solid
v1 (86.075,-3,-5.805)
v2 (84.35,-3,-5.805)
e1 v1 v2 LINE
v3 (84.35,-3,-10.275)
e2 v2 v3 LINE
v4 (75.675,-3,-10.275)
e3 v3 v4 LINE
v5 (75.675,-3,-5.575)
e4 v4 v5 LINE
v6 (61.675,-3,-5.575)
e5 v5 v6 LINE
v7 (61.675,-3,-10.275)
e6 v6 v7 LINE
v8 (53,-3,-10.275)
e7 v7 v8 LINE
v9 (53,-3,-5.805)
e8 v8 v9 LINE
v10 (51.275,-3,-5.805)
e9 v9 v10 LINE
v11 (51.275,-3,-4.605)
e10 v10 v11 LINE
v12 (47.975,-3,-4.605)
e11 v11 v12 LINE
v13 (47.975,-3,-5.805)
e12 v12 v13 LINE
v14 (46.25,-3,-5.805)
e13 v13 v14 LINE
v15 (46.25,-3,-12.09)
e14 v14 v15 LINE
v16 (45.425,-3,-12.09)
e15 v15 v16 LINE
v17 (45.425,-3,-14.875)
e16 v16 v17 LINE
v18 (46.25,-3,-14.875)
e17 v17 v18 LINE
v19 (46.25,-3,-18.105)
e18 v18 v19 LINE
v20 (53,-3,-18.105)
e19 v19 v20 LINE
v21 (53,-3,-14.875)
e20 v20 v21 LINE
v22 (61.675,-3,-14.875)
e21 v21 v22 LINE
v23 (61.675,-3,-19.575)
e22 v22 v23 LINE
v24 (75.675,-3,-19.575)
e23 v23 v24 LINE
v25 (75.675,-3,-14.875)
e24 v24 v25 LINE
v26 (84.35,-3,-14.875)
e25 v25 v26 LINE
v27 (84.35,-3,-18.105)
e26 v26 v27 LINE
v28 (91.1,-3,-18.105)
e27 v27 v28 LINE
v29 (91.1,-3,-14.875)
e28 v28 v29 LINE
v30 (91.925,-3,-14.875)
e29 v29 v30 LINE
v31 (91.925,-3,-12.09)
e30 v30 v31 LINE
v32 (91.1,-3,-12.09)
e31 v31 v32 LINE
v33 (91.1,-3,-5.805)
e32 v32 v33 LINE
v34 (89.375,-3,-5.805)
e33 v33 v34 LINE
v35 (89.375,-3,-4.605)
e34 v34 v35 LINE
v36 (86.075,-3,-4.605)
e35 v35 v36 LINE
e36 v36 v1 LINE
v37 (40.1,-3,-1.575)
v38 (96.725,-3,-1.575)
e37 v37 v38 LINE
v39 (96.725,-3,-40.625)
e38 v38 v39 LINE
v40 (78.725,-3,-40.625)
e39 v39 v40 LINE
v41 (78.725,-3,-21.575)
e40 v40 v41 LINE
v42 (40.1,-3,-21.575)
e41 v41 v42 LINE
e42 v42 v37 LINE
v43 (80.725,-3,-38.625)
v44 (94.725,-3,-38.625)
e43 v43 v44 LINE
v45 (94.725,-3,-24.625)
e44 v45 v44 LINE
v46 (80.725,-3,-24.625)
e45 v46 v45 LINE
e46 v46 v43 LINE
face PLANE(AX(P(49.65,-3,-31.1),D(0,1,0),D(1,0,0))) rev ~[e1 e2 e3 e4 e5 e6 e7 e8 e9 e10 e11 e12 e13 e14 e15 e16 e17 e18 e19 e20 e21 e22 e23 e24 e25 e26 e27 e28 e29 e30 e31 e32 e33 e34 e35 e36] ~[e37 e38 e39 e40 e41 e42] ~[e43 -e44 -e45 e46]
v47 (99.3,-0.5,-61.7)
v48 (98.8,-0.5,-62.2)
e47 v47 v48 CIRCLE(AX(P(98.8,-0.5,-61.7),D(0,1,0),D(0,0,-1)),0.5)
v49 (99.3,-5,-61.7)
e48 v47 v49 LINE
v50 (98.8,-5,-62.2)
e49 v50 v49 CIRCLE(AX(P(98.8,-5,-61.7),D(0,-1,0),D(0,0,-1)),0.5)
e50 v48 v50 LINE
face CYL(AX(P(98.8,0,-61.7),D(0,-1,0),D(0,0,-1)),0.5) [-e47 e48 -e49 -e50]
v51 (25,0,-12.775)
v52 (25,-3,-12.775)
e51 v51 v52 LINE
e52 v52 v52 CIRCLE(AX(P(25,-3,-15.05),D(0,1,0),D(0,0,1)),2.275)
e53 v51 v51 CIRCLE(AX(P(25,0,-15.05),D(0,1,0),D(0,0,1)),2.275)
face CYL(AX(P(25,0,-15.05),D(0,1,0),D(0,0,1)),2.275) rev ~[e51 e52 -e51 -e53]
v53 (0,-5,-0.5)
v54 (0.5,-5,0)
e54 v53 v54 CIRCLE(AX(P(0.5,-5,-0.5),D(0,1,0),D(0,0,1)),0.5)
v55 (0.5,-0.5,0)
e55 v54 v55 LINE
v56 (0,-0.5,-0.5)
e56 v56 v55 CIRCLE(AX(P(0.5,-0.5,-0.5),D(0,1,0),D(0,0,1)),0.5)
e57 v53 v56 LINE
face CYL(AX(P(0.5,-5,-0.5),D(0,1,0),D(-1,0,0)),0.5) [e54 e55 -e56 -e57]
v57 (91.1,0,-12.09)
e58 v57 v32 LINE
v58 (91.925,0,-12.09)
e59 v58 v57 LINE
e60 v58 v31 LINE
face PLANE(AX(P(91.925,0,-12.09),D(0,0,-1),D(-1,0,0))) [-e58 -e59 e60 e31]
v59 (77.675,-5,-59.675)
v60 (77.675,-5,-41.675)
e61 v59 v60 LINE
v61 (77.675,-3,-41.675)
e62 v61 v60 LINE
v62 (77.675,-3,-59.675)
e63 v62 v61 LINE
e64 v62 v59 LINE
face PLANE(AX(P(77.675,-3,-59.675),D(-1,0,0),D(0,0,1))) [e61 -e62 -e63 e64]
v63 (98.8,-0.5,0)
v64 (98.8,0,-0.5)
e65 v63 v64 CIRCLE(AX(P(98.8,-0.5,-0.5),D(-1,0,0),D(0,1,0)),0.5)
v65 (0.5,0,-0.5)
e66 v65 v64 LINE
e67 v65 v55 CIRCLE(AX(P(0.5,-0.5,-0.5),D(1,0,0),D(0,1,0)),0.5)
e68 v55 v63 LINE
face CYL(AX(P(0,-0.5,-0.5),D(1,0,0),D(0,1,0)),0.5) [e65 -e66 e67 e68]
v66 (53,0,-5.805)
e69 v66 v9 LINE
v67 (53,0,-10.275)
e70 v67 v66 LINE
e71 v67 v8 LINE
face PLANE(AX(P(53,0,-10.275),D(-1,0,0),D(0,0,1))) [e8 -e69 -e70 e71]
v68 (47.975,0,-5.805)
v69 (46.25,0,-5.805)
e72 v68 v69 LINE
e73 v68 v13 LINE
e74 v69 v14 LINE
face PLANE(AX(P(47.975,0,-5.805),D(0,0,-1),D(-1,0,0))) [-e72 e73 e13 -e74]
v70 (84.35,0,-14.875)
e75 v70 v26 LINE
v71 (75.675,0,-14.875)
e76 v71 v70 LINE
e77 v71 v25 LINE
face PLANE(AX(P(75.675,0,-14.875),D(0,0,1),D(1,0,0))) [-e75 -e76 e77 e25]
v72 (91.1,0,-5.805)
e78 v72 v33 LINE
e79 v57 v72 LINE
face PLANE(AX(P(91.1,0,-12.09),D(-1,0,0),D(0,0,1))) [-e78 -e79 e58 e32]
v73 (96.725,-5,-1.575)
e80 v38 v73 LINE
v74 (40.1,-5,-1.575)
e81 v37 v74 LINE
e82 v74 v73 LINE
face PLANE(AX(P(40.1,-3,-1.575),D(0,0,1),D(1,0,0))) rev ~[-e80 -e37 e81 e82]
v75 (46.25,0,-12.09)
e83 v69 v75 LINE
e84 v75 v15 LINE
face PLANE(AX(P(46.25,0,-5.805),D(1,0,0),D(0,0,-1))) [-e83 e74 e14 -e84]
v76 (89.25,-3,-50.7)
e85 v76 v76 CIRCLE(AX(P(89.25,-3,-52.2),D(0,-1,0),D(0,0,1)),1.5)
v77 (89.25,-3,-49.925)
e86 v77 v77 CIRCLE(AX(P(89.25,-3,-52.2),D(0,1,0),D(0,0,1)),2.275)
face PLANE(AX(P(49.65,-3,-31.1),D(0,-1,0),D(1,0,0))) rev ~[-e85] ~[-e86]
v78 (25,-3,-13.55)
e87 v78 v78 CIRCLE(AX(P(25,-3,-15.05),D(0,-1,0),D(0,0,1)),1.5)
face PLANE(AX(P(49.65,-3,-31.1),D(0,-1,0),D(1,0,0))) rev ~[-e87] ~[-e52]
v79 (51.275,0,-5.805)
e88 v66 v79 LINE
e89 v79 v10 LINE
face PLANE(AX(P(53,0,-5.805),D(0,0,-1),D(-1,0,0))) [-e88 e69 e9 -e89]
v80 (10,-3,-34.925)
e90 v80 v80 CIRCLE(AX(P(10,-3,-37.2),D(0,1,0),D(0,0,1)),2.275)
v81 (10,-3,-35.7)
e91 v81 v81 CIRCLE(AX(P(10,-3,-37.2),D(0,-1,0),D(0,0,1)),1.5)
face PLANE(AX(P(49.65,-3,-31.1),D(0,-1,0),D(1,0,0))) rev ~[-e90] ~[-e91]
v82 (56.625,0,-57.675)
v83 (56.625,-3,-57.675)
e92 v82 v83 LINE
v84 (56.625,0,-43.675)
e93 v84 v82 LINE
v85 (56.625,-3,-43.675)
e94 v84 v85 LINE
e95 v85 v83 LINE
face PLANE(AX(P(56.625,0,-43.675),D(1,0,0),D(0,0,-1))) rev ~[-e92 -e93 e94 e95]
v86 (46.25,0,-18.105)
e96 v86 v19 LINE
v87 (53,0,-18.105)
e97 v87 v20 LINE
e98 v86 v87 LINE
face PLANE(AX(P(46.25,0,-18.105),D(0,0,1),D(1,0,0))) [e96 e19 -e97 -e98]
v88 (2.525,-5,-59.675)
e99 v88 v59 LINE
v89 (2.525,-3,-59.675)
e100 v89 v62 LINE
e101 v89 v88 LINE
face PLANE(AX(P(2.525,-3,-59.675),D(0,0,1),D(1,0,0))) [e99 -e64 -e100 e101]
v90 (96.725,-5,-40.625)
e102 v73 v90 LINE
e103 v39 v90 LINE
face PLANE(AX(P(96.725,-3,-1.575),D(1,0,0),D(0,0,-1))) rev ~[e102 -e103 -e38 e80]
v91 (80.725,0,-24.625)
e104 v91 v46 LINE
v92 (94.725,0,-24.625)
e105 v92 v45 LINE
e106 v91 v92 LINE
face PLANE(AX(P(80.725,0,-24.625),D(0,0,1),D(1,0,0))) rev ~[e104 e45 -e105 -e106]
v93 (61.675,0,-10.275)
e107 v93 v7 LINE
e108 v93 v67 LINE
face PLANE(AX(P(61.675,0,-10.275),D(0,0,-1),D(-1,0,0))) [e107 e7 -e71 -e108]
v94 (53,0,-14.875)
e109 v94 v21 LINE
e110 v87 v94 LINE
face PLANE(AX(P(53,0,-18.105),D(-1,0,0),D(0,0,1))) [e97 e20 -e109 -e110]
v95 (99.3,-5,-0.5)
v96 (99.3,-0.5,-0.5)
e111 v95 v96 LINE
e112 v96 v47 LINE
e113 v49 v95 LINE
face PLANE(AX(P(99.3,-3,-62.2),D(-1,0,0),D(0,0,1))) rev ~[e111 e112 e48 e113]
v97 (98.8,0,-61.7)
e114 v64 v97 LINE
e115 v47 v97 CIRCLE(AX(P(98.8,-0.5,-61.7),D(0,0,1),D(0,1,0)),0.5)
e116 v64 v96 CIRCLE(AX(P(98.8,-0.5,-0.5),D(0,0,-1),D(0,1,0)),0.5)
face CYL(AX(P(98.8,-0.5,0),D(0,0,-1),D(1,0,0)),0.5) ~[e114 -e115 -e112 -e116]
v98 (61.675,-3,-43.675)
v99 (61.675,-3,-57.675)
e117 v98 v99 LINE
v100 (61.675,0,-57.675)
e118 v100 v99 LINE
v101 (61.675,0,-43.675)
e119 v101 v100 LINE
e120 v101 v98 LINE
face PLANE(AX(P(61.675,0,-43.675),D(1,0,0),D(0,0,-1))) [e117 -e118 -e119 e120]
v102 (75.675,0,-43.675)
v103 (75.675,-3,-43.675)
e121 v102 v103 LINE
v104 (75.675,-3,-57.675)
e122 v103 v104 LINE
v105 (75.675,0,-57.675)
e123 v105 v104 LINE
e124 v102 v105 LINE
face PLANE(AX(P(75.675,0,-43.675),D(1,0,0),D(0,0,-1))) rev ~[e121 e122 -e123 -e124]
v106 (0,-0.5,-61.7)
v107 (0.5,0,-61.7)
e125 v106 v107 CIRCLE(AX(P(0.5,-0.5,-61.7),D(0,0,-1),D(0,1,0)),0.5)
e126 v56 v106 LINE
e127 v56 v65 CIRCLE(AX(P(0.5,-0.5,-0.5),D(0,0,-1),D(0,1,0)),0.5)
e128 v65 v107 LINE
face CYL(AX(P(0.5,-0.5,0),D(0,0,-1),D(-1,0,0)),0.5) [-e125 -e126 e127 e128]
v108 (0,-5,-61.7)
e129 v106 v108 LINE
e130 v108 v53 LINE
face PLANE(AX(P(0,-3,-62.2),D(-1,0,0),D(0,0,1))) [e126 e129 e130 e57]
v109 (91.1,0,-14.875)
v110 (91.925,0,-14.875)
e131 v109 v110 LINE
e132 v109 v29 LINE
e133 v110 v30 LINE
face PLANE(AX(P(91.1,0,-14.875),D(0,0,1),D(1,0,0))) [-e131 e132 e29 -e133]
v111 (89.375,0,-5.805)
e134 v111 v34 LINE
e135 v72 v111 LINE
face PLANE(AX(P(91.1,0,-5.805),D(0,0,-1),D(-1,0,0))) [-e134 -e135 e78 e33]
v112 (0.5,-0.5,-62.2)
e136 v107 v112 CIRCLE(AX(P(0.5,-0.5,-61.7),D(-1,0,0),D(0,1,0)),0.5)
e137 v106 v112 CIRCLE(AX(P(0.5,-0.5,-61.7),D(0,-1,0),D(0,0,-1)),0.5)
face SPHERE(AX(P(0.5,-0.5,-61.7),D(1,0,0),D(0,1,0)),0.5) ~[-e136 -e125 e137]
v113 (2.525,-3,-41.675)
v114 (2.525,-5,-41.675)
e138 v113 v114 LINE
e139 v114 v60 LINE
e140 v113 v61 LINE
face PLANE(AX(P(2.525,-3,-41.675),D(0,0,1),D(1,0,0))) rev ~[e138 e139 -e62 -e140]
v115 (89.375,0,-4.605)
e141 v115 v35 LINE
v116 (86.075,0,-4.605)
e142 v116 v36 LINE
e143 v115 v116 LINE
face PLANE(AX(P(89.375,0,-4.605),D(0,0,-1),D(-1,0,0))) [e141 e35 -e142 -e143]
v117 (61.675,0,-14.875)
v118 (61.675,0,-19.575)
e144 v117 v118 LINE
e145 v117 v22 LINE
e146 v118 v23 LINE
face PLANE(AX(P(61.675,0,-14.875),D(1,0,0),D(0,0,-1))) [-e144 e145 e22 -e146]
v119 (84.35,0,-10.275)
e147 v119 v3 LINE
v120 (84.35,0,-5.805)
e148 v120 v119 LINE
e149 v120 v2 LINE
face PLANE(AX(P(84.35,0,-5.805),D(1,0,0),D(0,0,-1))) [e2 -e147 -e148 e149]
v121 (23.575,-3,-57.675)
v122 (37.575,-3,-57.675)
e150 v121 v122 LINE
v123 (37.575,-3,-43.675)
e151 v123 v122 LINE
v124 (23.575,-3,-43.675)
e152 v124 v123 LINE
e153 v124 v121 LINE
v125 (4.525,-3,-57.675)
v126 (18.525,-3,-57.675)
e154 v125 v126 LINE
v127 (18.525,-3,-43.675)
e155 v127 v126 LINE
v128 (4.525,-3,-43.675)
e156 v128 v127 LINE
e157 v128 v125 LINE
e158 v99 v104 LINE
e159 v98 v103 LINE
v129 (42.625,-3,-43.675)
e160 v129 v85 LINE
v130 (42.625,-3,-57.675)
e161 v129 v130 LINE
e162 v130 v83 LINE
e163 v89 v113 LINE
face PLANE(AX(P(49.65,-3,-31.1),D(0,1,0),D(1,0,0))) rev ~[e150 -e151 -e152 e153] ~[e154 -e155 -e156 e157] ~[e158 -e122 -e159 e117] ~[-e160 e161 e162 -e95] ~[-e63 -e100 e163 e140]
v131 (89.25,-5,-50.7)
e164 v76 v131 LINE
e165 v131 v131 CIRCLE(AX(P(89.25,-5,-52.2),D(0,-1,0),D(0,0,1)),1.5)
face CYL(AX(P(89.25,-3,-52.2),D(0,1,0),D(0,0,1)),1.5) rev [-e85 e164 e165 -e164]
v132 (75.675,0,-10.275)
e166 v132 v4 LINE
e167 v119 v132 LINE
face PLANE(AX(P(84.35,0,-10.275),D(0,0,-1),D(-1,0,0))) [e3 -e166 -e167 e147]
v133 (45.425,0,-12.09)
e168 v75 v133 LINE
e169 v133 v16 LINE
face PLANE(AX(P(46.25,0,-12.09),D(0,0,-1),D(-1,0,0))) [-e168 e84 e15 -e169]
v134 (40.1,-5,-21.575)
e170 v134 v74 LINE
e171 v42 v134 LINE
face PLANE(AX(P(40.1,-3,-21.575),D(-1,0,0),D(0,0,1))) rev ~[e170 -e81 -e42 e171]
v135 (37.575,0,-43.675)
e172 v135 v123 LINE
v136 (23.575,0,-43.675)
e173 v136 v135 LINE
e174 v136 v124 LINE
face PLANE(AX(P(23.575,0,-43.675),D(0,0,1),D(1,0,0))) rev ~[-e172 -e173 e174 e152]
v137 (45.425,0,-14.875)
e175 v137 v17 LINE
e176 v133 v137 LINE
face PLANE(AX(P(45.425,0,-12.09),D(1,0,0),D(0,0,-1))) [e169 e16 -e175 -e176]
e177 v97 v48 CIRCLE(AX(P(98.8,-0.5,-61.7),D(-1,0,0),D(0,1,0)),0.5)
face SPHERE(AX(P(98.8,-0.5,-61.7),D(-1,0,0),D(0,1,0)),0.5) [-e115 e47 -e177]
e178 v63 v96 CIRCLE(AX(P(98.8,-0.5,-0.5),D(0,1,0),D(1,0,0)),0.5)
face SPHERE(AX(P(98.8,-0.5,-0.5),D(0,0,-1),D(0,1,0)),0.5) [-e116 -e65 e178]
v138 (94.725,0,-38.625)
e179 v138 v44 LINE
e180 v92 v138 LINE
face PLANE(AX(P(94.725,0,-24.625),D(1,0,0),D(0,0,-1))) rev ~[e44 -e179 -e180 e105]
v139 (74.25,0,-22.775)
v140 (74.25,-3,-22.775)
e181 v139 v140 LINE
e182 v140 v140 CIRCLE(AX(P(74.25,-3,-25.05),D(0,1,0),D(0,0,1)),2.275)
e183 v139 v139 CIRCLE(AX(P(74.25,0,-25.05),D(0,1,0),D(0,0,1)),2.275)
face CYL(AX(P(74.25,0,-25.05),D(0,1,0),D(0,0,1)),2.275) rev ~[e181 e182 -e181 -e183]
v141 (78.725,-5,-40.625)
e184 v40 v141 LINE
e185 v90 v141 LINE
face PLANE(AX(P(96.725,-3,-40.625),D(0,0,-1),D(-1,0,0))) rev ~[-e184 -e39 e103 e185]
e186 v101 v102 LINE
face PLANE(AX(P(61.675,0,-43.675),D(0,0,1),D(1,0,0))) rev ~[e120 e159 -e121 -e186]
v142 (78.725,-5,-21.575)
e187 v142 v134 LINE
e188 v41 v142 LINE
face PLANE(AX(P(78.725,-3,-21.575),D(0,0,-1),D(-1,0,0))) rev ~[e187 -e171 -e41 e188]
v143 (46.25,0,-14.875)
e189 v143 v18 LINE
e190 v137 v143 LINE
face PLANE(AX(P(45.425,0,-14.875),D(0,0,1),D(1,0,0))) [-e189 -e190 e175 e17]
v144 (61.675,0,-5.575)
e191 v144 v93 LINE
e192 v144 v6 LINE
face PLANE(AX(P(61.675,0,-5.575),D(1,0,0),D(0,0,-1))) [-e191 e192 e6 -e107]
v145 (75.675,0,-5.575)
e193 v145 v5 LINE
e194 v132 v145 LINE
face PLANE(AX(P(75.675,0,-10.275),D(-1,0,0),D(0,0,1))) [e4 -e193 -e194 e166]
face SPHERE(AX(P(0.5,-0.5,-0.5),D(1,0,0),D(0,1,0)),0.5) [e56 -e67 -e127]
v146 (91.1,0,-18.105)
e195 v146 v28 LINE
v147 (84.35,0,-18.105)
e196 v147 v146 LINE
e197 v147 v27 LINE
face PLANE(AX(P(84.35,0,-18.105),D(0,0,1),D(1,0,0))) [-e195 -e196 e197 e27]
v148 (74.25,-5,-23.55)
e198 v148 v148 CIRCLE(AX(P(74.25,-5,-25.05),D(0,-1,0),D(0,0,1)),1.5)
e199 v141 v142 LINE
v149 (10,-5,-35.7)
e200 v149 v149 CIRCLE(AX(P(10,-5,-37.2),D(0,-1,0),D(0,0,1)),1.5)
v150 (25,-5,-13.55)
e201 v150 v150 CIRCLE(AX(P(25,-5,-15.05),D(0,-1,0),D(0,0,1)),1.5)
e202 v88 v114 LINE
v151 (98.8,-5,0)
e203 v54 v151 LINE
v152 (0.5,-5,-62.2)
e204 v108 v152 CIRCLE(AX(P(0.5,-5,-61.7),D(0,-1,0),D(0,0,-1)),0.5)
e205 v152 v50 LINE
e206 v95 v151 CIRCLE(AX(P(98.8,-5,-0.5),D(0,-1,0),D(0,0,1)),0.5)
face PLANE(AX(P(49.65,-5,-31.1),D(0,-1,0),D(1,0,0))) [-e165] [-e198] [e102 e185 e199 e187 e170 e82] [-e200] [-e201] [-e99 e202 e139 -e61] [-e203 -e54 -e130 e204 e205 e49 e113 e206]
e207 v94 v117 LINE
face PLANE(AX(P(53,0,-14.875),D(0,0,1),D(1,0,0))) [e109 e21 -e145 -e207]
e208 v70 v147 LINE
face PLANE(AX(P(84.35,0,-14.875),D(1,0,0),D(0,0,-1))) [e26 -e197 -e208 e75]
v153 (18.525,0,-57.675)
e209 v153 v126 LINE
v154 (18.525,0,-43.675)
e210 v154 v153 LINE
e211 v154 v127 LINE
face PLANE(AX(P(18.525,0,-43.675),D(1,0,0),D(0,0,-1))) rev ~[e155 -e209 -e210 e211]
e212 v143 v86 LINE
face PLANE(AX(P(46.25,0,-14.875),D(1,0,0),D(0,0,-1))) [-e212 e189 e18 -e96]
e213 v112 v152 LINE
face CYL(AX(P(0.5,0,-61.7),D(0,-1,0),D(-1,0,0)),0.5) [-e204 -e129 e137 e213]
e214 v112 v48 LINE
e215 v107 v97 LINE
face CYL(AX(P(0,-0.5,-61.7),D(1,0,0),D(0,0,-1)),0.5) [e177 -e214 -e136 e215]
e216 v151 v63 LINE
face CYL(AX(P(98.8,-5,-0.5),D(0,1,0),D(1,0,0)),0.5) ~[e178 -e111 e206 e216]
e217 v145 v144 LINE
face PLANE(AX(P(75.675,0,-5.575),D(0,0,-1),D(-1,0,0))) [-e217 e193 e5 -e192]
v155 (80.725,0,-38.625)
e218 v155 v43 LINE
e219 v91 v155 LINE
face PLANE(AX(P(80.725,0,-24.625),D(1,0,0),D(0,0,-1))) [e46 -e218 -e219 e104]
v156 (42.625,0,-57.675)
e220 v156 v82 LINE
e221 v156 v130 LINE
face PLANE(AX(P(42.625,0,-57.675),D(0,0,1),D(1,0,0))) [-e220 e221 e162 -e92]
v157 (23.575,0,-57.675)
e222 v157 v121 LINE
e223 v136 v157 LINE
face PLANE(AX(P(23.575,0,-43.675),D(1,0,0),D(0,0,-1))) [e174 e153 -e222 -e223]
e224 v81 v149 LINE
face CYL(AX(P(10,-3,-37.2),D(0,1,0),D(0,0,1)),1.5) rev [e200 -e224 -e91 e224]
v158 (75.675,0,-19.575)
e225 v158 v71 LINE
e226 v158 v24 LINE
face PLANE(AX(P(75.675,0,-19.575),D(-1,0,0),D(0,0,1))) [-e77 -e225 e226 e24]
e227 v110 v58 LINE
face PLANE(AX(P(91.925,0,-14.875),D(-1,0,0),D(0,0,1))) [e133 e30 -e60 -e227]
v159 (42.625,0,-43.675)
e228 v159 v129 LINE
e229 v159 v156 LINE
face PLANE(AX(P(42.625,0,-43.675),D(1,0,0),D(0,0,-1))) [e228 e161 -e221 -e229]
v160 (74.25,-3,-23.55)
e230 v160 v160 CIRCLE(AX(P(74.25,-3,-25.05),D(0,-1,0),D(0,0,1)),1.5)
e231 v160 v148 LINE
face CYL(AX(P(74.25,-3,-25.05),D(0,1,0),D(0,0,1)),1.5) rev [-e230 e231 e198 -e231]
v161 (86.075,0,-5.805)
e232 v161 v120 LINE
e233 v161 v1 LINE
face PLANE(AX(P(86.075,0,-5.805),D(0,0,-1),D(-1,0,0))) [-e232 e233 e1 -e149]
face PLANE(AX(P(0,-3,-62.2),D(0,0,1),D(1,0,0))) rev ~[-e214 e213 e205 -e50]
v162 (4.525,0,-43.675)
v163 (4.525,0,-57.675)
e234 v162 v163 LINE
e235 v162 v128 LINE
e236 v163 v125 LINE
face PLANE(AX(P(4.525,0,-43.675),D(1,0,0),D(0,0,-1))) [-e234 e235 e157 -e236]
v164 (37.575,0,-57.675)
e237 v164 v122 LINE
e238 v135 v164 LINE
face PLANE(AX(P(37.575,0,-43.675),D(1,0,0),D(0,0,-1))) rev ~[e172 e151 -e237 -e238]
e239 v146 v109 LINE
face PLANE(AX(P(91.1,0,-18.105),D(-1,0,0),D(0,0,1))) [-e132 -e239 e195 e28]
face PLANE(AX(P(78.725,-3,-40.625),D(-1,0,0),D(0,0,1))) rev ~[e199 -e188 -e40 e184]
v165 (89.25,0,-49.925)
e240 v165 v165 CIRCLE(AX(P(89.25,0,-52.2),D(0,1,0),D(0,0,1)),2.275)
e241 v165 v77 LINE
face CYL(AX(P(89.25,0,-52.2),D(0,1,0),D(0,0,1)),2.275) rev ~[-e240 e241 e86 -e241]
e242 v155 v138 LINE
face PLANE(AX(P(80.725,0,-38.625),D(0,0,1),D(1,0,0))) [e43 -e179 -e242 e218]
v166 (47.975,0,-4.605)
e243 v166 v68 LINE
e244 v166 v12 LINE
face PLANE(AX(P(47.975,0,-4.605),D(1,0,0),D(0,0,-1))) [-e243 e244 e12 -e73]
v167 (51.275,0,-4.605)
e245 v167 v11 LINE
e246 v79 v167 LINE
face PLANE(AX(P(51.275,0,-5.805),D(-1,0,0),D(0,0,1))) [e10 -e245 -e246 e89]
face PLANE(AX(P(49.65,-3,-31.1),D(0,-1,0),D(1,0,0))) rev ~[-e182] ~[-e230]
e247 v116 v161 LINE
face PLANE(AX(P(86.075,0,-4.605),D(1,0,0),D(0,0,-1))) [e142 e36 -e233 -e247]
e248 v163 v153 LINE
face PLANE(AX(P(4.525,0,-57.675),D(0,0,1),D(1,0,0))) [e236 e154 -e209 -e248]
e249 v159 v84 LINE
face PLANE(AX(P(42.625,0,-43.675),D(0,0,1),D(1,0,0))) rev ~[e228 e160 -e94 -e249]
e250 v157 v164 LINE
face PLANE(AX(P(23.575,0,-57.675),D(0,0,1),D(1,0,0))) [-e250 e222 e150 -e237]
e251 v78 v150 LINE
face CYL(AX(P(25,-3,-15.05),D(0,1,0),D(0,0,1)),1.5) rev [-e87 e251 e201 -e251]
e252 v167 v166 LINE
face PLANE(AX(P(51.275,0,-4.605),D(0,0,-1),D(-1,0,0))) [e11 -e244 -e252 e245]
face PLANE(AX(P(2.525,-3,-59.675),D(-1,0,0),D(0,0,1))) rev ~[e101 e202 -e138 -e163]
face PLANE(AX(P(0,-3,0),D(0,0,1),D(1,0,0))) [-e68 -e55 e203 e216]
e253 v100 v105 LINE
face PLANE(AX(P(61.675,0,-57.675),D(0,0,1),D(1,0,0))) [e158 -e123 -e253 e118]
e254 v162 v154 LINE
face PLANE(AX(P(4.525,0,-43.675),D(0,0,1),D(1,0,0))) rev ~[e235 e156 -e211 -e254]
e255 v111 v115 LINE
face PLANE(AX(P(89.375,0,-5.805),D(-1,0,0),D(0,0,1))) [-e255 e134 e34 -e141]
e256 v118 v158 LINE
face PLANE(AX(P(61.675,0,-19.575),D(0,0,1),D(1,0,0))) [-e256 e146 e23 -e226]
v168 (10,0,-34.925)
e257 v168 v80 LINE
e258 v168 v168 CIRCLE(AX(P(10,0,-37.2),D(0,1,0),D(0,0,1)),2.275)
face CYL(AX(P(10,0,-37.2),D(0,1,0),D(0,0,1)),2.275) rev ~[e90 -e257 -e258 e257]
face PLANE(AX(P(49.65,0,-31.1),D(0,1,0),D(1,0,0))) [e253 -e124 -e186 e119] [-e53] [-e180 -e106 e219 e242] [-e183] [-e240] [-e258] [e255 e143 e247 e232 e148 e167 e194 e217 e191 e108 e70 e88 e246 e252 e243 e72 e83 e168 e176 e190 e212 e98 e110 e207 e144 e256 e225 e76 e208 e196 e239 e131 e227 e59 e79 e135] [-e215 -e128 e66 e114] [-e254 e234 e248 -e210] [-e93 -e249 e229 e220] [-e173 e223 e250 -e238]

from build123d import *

# Parameters (mm, degrees)
SKETCH1_W           = 99.3
SKETCH1_H           = 62.2
SKETCH1_R           = 2.275
SKETCH1_W_2         = 14
SKETCH1_H_2         = 14
BOSS_EXTRUDE1_DEPTH = 3
SKETCH6_W           = 99.3
SKETCH6_H           = 62.2
SKETCH6_R           = 1.5
SKETCH6_W_2         = 75.15
SKETCH6_H_2         = 18
BOSS_EXTRUDE2_DEPTH = 2
FILLET1_R           = 0.5


with BuildPart() as part:
    # Sketch1 → Boss-Extrude1 (new body)
    with BuildSketch(Plane(origin=(0, 0, 0), x_dir=(1, 0, 0), z_dir=(0, 1, 0))):
        with Locations((49.65, 31.1)):
            Rectangle(SKETCH1_W, SKETCH1_H)
        with Locations(Location((10, 37.2, 0), (0, 0, 270))):
            Circle(SKETCH1_R, mode=Mode.SUBTRACT)
        with Locations(Location((89.25, 52.2, 0), (0, 0, 270))):
            Circle(SKETCH1_R, mode=Mode.SUBTRACT)
        with Locations(Location((74.25, 25.05, 0), (0, 0, 270))):
            Circle(SKETCH1_R, mode=Mode.SUBTRACT)
        with Locations(Location((25, 15.05, 0), (0, 0, 270))):
            Circle(SKETCH1_R, mode=Mode.SUBTRACT)
        with Locations((11.525, 50.675)):
            Rectangle(SKETCH1_W_2, SKETCH1_H_2, mode=Mode.SUBTRACT)
        with Locations((30.575, 50.675)):
            Rectangle(SKETCH1_W_2, SKETCH1_H_2, mode=Mode.SUBTRACT)
        with Locations((49.625, 50.675)):
            Rectangle(SKETCH1_W_2, SKETCH1_H_2, mode=Mode.SUBTRACT)
        with Locations((68.675, 50.675)):
            Rectangle(SKETCH1_W_2, SKETCH1_H_2, mode=Mode.SUBTRACT)
        with Locations((87.725, 31.625)):
            Rectangle(SKETCH1_W_2, SKETCH1_H_2, mode=Mode.SUBTRACT)
        Polygon((75.675, 14.875), (84.35, 14.875), (84.35, 18.105), (91.1, 18.105), (91.1, 14.875), (91.925, 14.875), (91.925, 12.09), (91.1, 12.09), (91.1, 5.805), (89.375, 5.805), (89.375, 4.605), (86.075, 4.605), (86.075, 5.805), (84.35, 5.805), (84.35, 10.275), (75.675, 10.275), (75.675, 5.575), (61.675, 5.575), (61.675, 10.275), (53, 10.275), (53, 5.805), (51.275, 5.805), (51.275, 4.605), (47.975, 4.605), (47.975, 5.805), (46.25, 5.805), (46.25, 12.09), (45.425, 12.09), (45.425, 14.875), (46.25, 14.875), (46.25, 18.105), (53, 18.105), (53, 14.875), (61.675, 14.875), (61.675, 19.575), (75.675, 19.575), align=None, mode=Mode.SUBTRACT)
    extrude(amount=-BOSS_EXTRUDE1_DEPTH)

    # Sketch6 → Boss-Extrude2 (add)
    with BuildSketch(Plane.XZ.offset(3)):
        with Locations((49.65, -31.1)):
            Rectangle(SKETCH6_W, SKETCH6_H)
        with Locations(Location((89.25, -52.2, 0), (0, 0, 90))):
            Circle(SKETCH6_R, mode=Mode.SUBTRACT)
        with Locations(Location((74.25, -25.05, 0), (0, 0, 90))):
            Circle(SKETCH6_R, mode=Mode.SUBTRACT)
        with Locations(Location((25, -15.05, 0), (0, 0, 90))):
            Circle(SKETCH6_R, mode=Mode.SUBTRACT)
        with Locations(Location((10, -37.2, 0), (0, 0, 90))):
            Circle(SKETCH6_R, mode=Mode.SUBTRACT)
        Polygon((78.725, -21.575), (40.1, -21.575), (40.1, -1.575), (96.725, -1.575), (96.725, -40.625), (78.725, -40.625), align=None, mode=Mode.SUBTRACT)
        with Locations((40.1, -50.675)):
            Rectangle(SKETCH6_W_2, SKETCH6_H_2, mode=Mode.SUBTRACT)
    extrude(amount=BOSS_EXTRUDE2_DEPTH)

    # Fillet1
    fillet1_edges = [part.edges().sort_by_distance(p)[0] for p in [
        (49.65, 0, -62.2),
        (99.3, 0, -31.1),
        (49.65, 0, 0),
        (0, 0, -31.1),
        (0, -2.5, -62.2),
        (99.3, -2.5, -62.2),
        (99.3, -2.5, 0),
        (0, -2.5, 0),
    ]]
    fillet(fillet1_edges, radius=FILLET1_R)


solid = part.part
